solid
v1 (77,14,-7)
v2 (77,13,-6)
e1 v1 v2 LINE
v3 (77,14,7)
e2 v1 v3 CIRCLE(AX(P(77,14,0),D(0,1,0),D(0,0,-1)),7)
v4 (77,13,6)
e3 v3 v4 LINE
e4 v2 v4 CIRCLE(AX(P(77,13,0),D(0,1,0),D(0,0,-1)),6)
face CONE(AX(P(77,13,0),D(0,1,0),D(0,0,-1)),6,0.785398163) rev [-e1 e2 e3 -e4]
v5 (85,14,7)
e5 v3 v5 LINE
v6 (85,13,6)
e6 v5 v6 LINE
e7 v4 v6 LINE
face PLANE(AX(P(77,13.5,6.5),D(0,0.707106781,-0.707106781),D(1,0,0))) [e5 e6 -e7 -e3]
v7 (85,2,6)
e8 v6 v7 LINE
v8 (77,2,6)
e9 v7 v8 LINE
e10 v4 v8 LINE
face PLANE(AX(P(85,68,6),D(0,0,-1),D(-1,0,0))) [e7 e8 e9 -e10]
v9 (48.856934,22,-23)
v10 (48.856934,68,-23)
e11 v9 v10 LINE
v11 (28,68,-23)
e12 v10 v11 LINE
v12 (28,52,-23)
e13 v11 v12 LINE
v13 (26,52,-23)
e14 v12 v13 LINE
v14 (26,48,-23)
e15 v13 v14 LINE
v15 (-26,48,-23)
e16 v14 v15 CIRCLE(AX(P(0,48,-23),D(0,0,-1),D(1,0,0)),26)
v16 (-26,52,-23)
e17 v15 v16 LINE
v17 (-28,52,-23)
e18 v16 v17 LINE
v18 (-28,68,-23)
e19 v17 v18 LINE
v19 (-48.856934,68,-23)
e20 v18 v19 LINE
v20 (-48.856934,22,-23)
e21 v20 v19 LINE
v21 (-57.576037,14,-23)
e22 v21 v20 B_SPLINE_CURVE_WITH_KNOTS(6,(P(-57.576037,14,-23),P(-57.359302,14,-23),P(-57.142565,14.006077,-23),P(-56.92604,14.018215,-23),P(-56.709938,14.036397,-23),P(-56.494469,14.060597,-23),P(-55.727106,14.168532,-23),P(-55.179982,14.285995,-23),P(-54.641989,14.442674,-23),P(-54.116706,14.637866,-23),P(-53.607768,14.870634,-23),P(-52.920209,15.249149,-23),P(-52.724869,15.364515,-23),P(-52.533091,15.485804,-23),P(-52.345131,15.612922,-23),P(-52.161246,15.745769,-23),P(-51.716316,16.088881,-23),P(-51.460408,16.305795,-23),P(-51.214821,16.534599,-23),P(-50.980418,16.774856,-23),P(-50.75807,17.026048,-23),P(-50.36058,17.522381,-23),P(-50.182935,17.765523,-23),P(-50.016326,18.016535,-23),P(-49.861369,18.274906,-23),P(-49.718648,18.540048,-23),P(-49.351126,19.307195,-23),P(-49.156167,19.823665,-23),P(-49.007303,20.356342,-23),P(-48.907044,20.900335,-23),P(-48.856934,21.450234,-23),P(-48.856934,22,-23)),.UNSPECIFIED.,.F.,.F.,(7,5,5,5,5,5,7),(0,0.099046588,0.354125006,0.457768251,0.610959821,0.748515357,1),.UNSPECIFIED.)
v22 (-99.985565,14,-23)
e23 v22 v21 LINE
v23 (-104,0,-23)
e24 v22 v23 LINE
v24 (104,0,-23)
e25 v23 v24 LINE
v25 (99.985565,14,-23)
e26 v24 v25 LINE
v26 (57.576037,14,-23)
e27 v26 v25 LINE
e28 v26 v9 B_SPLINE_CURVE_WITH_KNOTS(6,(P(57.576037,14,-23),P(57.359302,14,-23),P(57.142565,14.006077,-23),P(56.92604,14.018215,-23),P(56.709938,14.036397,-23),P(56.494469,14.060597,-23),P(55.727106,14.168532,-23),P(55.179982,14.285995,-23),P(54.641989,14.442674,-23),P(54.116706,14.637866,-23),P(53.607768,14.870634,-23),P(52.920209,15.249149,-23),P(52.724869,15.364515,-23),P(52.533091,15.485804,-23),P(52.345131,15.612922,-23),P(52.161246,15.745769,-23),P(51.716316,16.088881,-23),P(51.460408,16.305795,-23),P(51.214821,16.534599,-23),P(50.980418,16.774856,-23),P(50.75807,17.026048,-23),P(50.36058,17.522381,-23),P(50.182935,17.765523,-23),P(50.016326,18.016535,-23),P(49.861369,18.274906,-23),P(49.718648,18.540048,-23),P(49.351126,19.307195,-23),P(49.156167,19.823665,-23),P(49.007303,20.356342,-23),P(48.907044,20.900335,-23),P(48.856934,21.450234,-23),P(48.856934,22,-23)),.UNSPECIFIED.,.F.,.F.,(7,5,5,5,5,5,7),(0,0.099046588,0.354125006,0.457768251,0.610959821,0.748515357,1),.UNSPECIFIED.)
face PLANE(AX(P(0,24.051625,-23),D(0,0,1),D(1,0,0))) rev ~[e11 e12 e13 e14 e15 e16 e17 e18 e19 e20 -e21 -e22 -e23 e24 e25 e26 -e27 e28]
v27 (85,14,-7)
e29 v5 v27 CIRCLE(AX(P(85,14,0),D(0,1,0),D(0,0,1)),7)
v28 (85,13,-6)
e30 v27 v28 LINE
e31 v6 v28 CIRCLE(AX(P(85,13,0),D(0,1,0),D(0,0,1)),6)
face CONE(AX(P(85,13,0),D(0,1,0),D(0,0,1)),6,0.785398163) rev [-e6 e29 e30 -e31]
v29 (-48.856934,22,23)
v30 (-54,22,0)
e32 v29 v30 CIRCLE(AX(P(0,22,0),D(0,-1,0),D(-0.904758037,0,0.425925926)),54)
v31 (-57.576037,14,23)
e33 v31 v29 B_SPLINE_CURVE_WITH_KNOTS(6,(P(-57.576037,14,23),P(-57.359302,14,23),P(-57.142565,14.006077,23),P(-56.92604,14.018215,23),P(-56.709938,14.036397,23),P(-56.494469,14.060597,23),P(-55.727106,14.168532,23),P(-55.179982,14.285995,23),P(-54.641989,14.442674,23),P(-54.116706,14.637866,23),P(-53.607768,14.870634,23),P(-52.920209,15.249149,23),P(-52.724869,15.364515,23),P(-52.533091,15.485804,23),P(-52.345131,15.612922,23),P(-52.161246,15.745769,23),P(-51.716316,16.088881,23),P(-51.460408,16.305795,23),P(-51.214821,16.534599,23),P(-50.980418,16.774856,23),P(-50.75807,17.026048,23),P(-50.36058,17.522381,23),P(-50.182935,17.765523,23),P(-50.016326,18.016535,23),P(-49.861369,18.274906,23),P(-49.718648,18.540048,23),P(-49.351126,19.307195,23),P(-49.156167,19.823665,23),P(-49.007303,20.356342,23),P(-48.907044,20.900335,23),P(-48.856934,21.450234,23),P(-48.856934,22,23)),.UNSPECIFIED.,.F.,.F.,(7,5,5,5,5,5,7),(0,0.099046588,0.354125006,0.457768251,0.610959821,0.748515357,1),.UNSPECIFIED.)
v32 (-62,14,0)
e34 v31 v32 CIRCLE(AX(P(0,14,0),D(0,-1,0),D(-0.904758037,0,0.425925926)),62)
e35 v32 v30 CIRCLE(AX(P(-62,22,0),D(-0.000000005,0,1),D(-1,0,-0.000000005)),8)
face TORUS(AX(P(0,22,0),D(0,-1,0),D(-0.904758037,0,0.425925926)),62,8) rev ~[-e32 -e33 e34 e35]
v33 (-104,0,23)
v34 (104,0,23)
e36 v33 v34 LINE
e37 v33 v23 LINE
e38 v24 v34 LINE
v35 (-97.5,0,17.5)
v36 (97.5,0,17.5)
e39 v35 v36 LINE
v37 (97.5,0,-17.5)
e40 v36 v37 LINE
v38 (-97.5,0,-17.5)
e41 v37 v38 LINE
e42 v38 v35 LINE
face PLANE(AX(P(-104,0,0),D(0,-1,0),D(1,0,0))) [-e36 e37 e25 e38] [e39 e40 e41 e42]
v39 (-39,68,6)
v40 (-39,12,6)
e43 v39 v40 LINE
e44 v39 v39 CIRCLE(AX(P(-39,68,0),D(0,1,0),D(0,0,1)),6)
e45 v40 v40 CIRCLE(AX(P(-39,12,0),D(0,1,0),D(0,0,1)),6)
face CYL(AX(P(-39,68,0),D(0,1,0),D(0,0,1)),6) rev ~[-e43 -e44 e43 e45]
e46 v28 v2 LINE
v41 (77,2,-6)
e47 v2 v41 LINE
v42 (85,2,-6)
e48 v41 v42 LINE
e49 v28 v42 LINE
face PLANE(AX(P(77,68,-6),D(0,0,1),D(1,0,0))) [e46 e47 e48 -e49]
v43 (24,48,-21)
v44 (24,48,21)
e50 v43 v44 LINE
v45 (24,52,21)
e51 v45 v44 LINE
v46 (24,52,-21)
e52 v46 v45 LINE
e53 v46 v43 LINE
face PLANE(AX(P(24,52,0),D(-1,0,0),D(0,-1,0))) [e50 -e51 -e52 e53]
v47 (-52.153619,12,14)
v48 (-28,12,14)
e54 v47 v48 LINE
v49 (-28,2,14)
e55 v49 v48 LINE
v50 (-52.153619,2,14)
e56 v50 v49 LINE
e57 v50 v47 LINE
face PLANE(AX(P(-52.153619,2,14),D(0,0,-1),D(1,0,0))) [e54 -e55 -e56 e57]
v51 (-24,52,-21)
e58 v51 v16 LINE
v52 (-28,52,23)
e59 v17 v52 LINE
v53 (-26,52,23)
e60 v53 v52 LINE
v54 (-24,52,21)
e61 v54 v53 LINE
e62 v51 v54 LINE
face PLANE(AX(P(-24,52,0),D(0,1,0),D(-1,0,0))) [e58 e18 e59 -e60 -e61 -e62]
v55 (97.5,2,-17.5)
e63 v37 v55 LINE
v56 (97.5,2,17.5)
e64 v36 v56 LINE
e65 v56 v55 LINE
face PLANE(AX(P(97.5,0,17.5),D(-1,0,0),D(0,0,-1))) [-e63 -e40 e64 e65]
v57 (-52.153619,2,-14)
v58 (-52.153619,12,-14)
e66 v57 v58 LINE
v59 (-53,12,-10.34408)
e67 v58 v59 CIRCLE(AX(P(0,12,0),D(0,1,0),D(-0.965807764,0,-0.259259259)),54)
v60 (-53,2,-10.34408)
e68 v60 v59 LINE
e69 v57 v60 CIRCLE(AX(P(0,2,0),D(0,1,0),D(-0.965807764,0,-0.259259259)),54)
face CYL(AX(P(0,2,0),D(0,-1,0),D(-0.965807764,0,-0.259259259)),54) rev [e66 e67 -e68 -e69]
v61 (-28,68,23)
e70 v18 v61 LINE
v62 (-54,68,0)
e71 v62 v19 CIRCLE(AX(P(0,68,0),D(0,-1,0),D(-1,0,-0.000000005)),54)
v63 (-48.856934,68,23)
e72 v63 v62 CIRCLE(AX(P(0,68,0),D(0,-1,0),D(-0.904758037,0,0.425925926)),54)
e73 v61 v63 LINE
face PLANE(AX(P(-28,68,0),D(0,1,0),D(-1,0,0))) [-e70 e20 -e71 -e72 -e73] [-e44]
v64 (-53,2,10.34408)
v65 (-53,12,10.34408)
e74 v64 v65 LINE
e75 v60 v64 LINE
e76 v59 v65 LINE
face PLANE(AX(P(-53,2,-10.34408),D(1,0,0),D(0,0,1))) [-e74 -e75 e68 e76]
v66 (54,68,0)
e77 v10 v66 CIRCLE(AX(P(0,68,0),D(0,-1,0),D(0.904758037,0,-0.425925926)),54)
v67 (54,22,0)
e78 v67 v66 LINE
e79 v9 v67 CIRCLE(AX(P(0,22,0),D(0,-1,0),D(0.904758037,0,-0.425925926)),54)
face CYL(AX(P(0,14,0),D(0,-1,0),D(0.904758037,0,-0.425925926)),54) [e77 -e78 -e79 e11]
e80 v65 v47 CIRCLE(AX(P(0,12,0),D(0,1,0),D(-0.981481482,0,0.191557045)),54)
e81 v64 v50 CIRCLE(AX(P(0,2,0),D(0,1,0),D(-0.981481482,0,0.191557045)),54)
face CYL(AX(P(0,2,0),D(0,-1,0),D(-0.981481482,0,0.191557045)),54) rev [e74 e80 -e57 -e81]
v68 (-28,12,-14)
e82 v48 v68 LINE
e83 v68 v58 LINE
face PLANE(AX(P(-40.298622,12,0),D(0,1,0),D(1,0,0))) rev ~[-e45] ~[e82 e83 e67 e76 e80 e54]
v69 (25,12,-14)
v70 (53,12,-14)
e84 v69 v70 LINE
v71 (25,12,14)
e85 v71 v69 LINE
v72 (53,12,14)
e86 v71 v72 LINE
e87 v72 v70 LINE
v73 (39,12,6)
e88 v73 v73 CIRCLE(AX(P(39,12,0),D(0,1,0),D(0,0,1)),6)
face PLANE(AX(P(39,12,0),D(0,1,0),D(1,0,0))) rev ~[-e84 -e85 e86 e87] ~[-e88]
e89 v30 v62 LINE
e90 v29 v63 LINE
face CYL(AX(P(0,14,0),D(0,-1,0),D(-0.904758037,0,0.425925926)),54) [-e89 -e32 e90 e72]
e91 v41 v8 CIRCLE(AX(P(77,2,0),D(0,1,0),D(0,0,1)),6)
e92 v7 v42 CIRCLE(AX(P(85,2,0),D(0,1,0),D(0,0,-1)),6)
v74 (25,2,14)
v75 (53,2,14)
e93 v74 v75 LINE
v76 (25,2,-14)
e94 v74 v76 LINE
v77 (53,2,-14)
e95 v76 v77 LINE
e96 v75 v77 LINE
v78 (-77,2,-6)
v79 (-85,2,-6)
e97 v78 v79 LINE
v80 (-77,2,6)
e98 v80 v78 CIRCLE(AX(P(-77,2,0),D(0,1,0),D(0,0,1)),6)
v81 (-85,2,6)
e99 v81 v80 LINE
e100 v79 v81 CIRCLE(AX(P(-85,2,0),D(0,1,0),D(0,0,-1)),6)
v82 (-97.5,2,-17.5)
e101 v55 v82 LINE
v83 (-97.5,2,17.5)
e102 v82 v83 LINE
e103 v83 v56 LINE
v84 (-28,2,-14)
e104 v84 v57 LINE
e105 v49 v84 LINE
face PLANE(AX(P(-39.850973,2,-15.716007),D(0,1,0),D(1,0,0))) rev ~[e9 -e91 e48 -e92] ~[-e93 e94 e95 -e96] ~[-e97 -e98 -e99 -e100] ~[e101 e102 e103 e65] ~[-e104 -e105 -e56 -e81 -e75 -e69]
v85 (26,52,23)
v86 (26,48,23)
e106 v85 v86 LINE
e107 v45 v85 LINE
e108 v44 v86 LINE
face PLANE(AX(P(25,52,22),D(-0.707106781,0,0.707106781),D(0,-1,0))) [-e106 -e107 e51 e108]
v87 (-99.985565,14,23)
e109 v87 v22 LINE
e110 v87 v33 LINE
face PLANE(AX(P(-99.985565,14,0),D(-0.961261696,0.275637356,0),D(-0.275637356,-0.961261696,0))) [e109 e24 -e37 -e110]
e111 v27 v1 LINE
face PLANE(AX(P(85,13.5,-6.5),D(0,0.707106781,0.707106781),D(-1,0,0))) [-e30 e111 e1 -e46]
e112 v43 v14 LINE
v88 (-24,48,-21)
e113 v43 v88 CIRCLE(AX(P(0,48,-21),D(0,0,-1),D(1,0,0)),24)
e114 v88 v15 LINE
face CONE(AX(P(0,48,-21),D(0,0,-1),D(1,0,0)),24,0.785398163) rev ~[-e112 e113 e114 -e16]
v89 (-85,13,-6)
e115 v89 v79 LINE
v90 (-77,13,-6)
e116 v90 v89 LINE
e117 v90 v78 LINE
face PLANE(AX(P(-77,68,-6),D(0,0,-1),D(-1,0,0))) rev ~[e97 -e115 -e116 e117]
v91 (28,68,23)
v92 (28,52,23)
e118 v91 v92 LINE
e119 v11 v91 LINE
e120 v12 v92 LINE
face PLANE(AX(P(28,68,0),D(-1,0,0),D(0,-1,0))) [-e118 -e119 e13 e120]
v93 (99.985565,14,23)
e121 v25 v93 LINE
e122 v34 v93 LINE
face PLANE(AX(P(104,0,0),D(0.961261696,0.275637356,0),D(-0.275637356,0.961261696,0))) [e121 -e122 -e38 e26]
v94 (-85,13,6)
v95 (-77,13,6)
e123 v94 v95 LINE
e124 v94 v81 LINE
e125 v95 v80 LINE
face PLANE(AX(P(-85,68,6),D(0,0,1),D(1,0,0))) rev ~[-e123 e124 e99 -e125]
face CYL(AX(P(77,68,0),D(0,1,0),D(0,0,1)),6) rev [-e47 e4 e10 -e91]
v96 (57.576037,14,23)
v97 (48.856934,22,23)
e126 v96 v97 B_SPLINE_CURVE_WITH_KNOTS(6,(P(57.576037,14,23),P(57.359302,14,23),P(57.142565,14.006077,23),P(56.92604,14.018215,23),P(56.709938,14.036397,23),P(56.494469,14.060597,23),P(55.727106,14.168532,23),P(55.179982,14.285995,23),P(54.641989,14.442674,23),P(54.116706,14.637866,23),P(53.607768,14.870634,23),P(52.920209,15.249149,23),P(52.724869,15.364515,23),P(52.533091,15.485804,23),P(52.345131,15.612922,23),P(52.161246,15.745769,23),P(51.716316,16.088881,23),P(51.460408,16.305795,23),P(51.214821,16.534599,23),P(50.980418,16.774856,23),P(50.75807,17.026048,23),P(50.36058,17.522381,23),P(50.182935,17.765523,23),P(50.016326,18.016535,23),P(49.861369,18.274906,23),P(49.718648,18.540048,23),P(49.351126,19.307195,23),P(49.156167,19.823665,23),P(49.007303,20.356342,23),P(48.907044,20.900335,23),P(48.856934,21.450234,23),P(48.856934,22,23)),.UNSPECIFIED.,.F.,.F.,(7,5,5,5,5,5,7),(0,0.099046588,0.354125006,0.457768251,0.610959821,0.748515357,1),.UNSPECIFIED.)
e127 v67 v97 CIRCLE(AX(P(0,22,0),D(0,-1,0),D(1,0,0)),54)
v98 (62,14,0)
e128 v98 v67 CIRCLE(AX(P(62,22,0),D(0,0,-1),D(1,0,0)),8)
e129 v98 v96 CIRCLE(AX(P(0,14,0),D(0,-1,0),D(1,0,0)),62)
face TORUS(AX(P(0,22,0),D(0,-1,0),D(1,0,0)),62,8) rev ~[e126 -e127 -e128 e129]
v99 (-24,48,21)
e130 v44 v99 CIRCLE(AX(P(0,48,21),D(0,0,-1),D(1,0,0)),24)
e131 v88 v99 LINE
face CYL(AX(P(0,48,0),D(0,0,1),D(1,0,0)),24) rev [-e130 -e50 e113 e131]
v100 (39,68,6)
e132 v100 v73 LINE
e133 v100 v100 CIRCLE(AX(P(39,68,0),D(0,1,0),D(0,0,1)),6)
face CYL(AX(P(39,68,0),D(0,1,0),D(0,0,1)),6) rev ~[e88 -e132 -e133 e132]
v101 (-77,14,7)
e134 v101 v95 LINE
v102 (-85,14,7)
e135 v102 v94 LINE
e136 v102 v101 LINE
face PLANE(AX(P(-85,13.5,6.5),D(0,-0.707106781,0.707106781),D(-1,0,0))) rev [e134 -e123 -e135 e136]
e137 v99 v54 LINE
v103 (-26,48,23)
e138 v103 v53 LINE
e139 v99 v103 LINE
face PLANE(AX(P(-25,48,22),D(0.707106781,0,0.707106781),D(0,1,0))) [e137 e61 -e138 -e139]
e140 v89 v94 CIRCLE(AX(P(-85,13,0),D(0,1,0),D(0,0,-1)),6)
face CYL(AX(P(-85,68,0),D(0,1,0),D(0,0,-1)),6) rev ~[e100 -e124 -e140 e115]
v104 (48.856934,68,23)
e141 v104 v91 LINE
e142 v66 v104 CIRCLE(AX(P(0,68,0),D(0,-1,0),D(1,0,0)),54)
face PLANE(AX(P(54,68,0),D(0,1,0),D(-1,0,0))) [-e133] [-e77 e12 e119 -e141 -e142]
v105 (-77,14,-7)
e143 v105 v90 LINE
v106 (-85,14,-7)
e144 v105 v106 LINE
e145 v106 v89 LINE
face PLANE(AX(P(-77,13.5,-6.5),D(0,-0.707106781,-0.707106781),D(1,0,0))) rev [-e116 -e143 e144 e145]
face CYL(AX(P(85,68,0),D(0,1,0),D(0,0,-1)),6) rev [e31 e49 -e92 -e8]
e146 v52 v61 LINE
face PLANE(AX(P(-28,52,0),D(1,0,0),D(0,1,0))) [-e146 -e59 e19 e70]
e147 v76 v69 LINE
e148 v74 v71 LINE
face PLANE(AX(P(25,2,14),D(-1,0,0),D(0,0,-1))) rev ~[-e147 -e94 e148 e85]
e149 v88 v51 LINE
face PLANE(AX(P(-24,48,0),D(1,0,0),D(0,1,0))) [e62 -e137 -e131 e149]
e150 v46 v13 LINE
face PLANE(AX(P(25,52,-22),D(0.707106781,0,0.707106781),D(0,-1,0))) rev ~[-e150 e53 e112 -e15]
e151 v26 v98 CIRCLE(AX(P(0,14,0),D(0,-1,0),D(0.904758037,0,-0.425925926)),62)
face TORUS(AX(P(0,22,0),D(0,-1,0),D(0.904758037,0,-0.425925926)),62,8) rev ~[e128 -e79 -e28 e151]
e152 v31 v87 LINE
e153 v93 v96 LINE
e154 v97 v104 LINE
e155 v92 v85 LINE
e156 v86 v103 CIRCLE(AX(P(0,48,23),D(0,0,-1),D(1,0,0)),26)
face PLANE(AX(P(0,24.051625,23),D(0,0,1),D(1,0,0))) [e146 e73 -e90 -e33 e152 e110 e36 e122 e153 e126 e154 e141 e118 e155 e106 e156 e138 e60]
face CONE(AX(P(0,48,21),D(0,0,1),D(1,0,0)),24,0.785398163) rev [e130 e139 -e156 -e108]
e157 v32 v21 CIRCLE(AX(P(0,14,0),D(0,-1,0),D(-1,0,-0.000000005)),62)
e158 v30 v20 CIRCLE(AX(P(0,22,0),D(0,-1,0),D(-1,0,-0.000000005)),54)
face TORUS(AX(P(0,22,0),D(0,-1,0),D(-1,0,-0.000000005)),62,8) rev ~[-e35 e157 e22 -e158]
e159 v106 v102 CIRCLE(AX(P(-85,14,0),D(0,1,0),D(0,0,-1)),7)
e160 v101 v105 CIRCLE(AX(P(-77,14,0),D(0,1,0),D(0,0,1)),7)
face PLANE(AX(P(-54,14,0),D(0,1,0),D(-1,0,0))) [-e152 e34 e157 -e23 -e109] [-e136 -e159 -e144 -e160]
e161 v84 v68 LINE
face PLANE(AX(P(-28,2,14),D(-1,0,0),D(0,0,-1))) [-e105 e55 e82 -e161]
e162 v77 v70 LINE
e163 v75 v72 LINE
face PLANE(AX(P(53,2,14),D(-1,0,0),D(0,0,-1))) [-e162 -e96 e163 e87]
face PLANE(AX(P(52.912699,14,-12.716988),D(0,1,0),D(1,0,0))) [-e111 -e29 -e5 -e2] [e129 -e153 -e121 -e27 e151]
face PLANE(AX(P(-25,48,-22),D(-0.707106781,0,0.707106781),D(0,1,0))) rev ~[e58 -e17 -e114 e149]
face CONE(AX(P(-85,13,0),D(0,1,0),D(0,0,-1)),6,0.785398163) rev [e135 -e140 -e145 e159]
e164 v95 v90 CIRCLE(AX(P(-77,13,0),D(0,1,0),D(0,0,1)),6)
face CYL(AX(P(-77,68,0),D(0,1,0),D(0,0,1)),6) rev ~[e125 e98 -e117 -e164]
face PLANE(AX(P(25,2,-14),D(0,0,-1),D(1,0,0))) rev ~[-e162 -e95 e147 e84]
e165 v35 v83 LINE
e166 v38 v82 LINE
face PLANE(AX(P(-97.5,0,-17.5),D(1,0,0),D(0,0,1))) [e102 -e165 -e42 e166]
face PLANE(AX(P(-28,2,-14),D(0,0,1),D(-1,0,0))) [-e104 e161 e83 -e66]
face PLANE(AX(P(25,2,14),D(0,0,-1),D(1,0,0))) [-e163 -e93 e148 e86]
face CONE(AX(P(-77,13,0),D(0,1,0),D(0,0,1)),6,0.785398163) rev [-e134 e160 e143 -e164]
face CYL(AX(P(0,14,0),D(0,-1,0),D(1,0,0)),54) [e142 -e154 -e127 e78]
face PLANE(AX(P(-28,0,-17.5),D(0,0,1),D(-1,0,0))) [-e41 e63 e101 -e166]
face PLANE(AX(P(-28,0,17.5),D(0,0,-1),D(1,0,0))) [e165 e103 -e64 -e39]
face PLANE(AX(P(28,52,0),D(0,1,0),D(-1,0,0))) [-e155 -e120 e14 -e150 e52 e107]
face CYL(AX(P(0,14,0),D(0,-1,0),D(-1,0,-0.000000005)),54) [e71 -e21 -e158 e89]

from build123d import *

# Parameters (mm, degrees)
BOSS_EXTRUDE1_DEPTH = 23
CUT_EXTRUDE1_DEPTH  = 76
CHAMFER1_SIZE       = 2
CUT_EXTRUDE2_START  = -68
SKETCH4_R           = 6
SKETCH4_W           = 28
SKETCH4_H           = 28
SKETCH4_W_2         = 3
CUT_EXTRUDE2_DEPTH  = 2
SKETCH4_3_R         = 6
CUT_EXTRUDE3_DEPTH  = 127.368508735
CUT_EXTRUDE4_START  = -66
SKETCH4_4_R         = 6
SKETCH4_4_W         = 28
SKETCH4_4_H         = 28
CUT_EXTRUDE4_DEPTH  = 10
CHAMFER2_SIZE       = 1
FILLET1_R           = 8


with BuildPart() as part:
    # Sketch1 → Boss-Extrude1 (new, symmetric)
    with BuildSketch(Plane.XY):
        with BuildLine():
            Line((-104, 0), (104, 0))
            Line((104, 0), (99.985564599, 14))
            Line((99.985564599, 14), (54, 14))
            Line((54, 14), (54, 68))
            Line((54, 68), (28, 68))
            Line((28, 68), (28, 52))
            Line((28, 52), (24, 52))
            Line((24, 52), (24, 48))
            ThreePointArc((24, 48), (0, 24), (-24, 48))
            Line((-24, 48), (-24, 52))
            Line((-24, 52), (-28, 52))
            Line((-28, 52), (-28, 68))
            Line((-28, 68), (-54, 68))
            Line((-54, 68), (-54, 14))
            Line((-54, 14), (-99.985564599, 14))
            Line((-99.985564599, 14), (-104, 0))
        make_face()
    extrude(amount=BOSS_EXTRUDE1_DEPTH, both=True)

    # Sketch3 → Cut-Extrude1 (cut)
    with BuildSketch(Plane(origin=(0, 14, 0), x_dir=(1, 0, 0), z_dir=(0, 1, 0))):
        with BuildLine():
            Line((-48.856934001, 23), (-54, 23))
            Line((-54, 23), (-54, 2.63e-07))
            ThreePointArc((-54, 2.63e-07), (-52.698550407, 11.784005473), (-48.856934001, 23))
        make_face()
        with BuildLine():
            ThreePointArc((-48.856934001, -23), (-52.698550464, -11.784005217), (-54, 2.63e-07))
            Line((-54, 2.63e-07), (-54, -23))
            Line((-54, -23), (-48.856934001, -23))
        make_face()
        with BuildLine():
            Line((48.856934001, -23), (54, -23))
            Line((54, -23), (54, 0))
            ThreePointArc((54, 0), (52.698550436, -11.784005345), (48.856934001, -23))
        make_face()
        with BuildLine():
            ThreePointArc((48.856934001, 23), (52.698550436, 11.784005345), (54, 0))
            Line((54, 0), (54, 23))
            Line((54, 23), (48.856934001, 23))
        make_face()
    extrude(amount=CUT_EXTRUDE1_DEPTH, mode=Mode.SUBTRACT)

    # Chamfer1
    chamfer1_edges = [part.edges().sort_by_distance(p)[0] for p in [
        (-24, 50, -23),
        (0, 24, -23),
        (24, 50, -23),
        (24, 50, 23),
        (0, 24, 23),
        (-24, 50, 23),
    ]]
    chamfer(chamfer1_edges, length=CHAMFER1_SIZE)

    # Sketch4 → Cut-Extrude2 (cut)
    # profile 1 of 14: a face of its own
    with BuildSketch(Plane(origin=(0, 68, 0), x_dir=(1, 0, 0), z_dir=(0, 1, 0)).offset(CUT_EXTRUDE2_START)):
        with BuildLine():
            Line((-53, 10.344080433), (-53, 14))
            Line((-53, 14), (-52.153619242, 14))
            ThreePointArc((-52.153619242, 14), (-51.649321328, 15.759048395), (-51.085712288, 17.5))
            Line((-51.085712288, 17.5), (-97.5, 17.5))
            Line((-97.5, 17.5), (-97.5, -17.5))
            Line((-97.5, -17.5), (-51.085712288, -17.5))
            ThreePointArc((-51.085712288, -17.5), (-51.649321328, -15.759048395), (-52.153619242, -14))
            Line((-52.153619242, -14), (-53, -14))
            Line((-53, -14), (-53, -10.344080433))
            ThreePointArc((-53, -10.344080433), (-54, 0), (-53, 10.344080433))
        make_face()
        with BuildLine():
            ThreePointArc((-85, -6), (-91, 0), (-85, 6))
            Line((-85, 6), (-77, 6))
            ThreePointArc((-77, 6), (-71, 0), (-77, -6))
            Line((-77, -6), (-85, -6))
        make_face(mode=Mode.SUBTRACT)
    # profile 2 of 14: a face of its own
    with BuildSketch(Plane(origin=(0, 68, 0), x_dir=(1, 0, 0), z_dir=(0, 1, 0)).offset(CUT_EXTRUDE2_START)):
        with BuildLine():
            Line((-28, 14), (-52.153619242, 14))
            ThreePointArc((-52.153619242, 14), (-52.608576743, 12.179394612), (-53, 10.344080433))
            Line((-53, 10.344080433), (-53, -10.344080433))
            ThreePointArc((-53, -10.344080433), (-52.608576743, -12.179394612), (-52.153619242, -14))
            Line((-52.153619242, -14), (-28, -14))
            Line((-28, -14), (-28, 14))
        make_face()
        with Locations((-39, 0)):
            Circle(SKETCH4_R, mode=Mode.SUBTRACT)
    # profile 3 of 14: a face of its own
    with BuildSketch(Plane(origin=(0, 68, 0), x_dir=(1, 0, 0), z_dir=(0, 1, 0)).offset(CUT_EXTRUDE2_START)):
        with Locations((-39, 0)):
            Circle(SKETCH4_R)
    # profile 4 of 14: a face of its own
    with BuildSketch(Plane(origin=(0, 68, 0), x_dir=(1, 0, 0), z_dir=(0, 1, 0)).offset(CUT_EXTRUDE2_START)):
        with BuildLine():
            Line((-85, -6), (-77, -6))
            ThreePointArc((-77, -6), (-71, 0), (-77, 6))
            Line((-77, 6), (-85, 6))
            ThreePointArc((-85, 6), (-91, 0), (-85, -6))
        make_face()
    # profile 5 of 14: a face of its own
    with BuildSketch(Plane(origin=(0, 68, 0), x_dir=(1, 0, 0), z_dir=(0, 1, 0)).offset(CUT_EXTRUDE2_START)):
        with BuildLine():
            Line((-28, -17.5), (-28, -14))
            Line((-28, -14), (-52.153619242, -14))
            ThreePointArc((-52.153619242, -14), (-51.649321328, -15.759048395), (-51.085712288, -17.5))
            Line((-51.085712288, -17.5), (-28, -17.5))
        make_face()
    # profile 6 of 14: a face of its own
    with BuildSketch(Plane(origin=(0, 68, 0), x_dir=(1, 0, 0), z_dir=(0, 1, 0)).offset(CUT_EXTRUDE2_START)):
        with BuildLine():
            ThreePointArc((-51.085712288, 17.5), (-51.649321328, 15.759048395), (-52.153619242, 14))
            Line((-52.153619242, 14), (-28, 14))
            Line((-28, 14), (-28, 17.5))
            Line((-28, 17.5), (-51.085712288, 17.5))
        make_face()
    # profile 7 of 14: a face of its own
    with BuildSketch(Plane(origin=(0, 68, 0), x_dir=(1, 0, 0), z_dir=(0, 1, 0)).offset(CUT_EXTRUDE2_START)):
        Polygon((-28, 17.5), (-28, 14), (-25, 14), (-25, -14), (-28, -14), (-28, -17.5), (97.5, -17.5), (97.5, 17.5), align=None)
        with Locations((39, 0)):
            Rectangle(SKETCH4_W, SKETCH4_H, mode=Mode.SUBTRACT)
        with BuildLine():
            Line((77, 6), (85, 6))
            ThreePointArc((85, 6), (91, 0), (85, -6))
            Line((85, -6), (77, -6))
            ThreePointArc((77, -6), (71, 0), (77, 6))
        make_face(mode=Mode.SUBTRACT)
    # profile 8 of 14: a face of its own
    with BuildSketch(Plane(origin=(0, 68, 0), x_dir=(1, 0, 0), z_dir=(0, 1, 0)).offset(CUT_EXTRUDE2_START)):
        with BuildLine():
            ThreePointArc((-52.153619242, -14), (-52.608576743, -12.179394612), (-53, -10.344080433))
            Line((-53, -10.344080433), (-53, -14))
            Line((-53, -14), (-52.153619242, -14))
        make_face()
    # profile 9 of 14: a face of its own
    with BuildSketch(Plane(origin=(0, 68, 0), x_dir=(1, 0, 0), z_dir=(0, 1, 0)).offset(CUT_EXTRUDE2_START)):
        with BuildLine():
            Line((-53, -10.344080433), (-53, 10.344080433))
            ThreePointArc((-53, 10.344080433), (-54, 0), (-53, -10.344080433))
        make_face()
    # profile 10 of 14: a face of its own
    with BuildSketch(Plane(origin=(0, 68, 0), x_dir=(1, 0, 0), z_dir=(0, 1, 0)).offset(CUT_EXTRUDE2_START)):
        with BuildLine():
            Line((-52.153619242, 14), (-53, 14))
            Line((-53, 14), (-53, 10.344080433))
            ThreePointArc((-53, 10.344080433), (-52.608576743, 12.179394612), (-52.153619242, 14))
        make_face()
    # profile 11 of 14: a face of its own
    with BuildSketch(Plane(origin=(0, 68, 0), x_dir=(1, 0, 0), z_dir=(0, 1, 0)).offset(CUT_EXTRUDE2_START)):
        with Locations((-26.5, 0)):
            Rectangle(SKETCH4_W_2, SKETCH4_H)
    # profile 12 of 14: a face of its own
    with BuildSketch(Plane(origin=(0, 68, 0), x_dir=(1, 0, 0), z_dir=(0, 1, 0)).offset(CUT_EXTRUDE2_START)):
        with BuildLine():
            ThreePointArc((77, -6), (71, 0), (77, 6))
            Line((77, 6), (85, 6))
            ThreePointArc((85, 6), (91, 0), (85, -6))
            Line((85, -6), (77, -6))
        make_face()
    # profile 13 of 14: a face of its own
    with BuildSketch(Plane(origin=(0, 68, 0), x_dir=(1, 0, 0), z_dir=(0, 1, 0)).offset(CUT_EXTRUDE2_START)):
        with Locations((39, 0)):
            Rectangle(SKETCH4_W, SKETCH4_H)
        with Locations((39, 0)):
            Circle(SKETCH4_R, mode=Mode.SUBTRACT)
    # profile 14 of 14: a face of its own
    with BuildSketch(Plane(origin=(0, 68, 0), x_dir=(1, 0, 0), z_dir=(0, 1, 0)).offset(CUT_EXTRUDE2_START)):
        with Locations((39, 0)):
            Circle(SKETCH4_R)
    extrude(amount=CUT_EXTRUDE2_DEPTH, mode=Mode.SUBTRACT)

    # Sketch4<3> → Cut-Extrude3 (cut, through all)
    with BuildSketch(Plane(origin=(0, 68, 0), x_dir=(1, 0, 0), z_dir=(0, 1, 0))):
        with Locations(Location((-39, 0, 0), (0, 0, 270))):
            Circle(SKETCH4_3_R)
        with Locations(Location((39, 0, 0), (0, 0, 270))):
            Circle(SKETCH4_3_R)
        with BuildLine():
            Line((-85, -6), (-77, -6))
            ThreePointArc((-77, -6), (-71, 0), (-77, 6))
            Line((-77, 6), (-85, 6))
            ThreePointArc((-85, 6), (-91, 0), (-85, -6))
        make_face()
        with BuildLine():
            ThreePointArc((77, -6), (71, 0), (77, 6))
            Line((77, 6), (85, 6))
            ThreePointArc((85, 6), (91, 0), (85, -6))
            Line((85, -6), (77, -6))
        make_face()
    extrude(amount=-CUT_EXTRUDE3_DEPTH, mode=Mode.SUBTRACT)

    # Sketch4<4> → Cut-Extrude4 (cut)
    # profile 1 of 4: a face of its own
    with BuildSketch(Plane(origin=(0, 68, 0), x_dir=(1, 0, 0), z_dir=(0, 1, 0)).offset(CUT_EXTRUDE4_START)):
        with BuildLine():
            Line((-28, 14), (-52.153619242, 14))
            ThreePointArc((-52.153619242, 14), (-52.608576743, 12.179394612), (-53, 10.344080433))
            Line((-53, 10.344080433), (-53, -10.344080433))
            ThreePointArc((-53, -10.344080433), (-52.608576743, -12.179394612), (-52.153619242, -14))
            Line((-52.153619242, -14), (-28, -14))
            Line((-28, -14), (-28, 14))
        make_face()
        with Locations(Location((-39, 0, 0), (0, 0, 270))):
            Circle(SKETCH4_4_R, mode=Mode.SUBTRACT)
    # profile 2 of 4: a face of its own
    with BuildSketch(Plane(origin=(0, 68, 0), x_dir=(1, 0, 0), z_dir=(0, 1, 0)).offset(CUT_EXTRUDE4_START)):
        with Locations((39, 0)):
            Rectangle(SKETCH4_4_W, SKETCH4_4_H)
        with Locations(Location((39, 0, 0), (0, 0, 270))):
            Circle(SKETCH4_4_R, mode=Mode.SUBTRACT)
    # profile 3 of 4: a face of its own
    with BuildSketch(Plane(origin=(0, 68, 0), x_dir=(1, 0, 0), z_dir=(0, 1, 0)).offset(CUT_EXTRUDE4_START)):
        with Locations(Location((-39, 0, 0), (0, 0, 270))):
            Circle(SKETCH4_4_R)
    # profile 4 of 4: a face of its own
    with BuildSketch(Plane(origin=(0, 68, 0), x_dir=(1, 0, 0), z_dir=(0, 1, 0)).offset(CUT_EXTRUDE4_START)):
        with Locations(Location((39, 0, 0), (0, 0, 270))):
            Circle(SKETCH4_4_R)
    extrude(amount=CUT_EXTRUDE4_DEPTH, mode=Mode.SUBTRACT)

    # Chamfer2
    chamfer2_edges = [part.edges().sort_by_distance(p)[0] for p in [
        (71, 14, 0),
        (81, 14, -6),
        (91, 14, 0),
        (81, 14, 6),
        (-81, 14, 6),
        (-91, 14, 0),
        (-81, 14, -6),
        (-71, 14, 0),
    ]]
    chamfer(chamfer2_edges, length=CHAMFER2_SIZE)

    # Fillet1
    fillet1_edges = [part.edges().sort_by_distance(p)[0] for p in [
        (-54, 14, 0),
        (54, 14, 0),
    ]]
    fillet(fillet1_edges, radius=FILLET1_R)


solid = part.part
